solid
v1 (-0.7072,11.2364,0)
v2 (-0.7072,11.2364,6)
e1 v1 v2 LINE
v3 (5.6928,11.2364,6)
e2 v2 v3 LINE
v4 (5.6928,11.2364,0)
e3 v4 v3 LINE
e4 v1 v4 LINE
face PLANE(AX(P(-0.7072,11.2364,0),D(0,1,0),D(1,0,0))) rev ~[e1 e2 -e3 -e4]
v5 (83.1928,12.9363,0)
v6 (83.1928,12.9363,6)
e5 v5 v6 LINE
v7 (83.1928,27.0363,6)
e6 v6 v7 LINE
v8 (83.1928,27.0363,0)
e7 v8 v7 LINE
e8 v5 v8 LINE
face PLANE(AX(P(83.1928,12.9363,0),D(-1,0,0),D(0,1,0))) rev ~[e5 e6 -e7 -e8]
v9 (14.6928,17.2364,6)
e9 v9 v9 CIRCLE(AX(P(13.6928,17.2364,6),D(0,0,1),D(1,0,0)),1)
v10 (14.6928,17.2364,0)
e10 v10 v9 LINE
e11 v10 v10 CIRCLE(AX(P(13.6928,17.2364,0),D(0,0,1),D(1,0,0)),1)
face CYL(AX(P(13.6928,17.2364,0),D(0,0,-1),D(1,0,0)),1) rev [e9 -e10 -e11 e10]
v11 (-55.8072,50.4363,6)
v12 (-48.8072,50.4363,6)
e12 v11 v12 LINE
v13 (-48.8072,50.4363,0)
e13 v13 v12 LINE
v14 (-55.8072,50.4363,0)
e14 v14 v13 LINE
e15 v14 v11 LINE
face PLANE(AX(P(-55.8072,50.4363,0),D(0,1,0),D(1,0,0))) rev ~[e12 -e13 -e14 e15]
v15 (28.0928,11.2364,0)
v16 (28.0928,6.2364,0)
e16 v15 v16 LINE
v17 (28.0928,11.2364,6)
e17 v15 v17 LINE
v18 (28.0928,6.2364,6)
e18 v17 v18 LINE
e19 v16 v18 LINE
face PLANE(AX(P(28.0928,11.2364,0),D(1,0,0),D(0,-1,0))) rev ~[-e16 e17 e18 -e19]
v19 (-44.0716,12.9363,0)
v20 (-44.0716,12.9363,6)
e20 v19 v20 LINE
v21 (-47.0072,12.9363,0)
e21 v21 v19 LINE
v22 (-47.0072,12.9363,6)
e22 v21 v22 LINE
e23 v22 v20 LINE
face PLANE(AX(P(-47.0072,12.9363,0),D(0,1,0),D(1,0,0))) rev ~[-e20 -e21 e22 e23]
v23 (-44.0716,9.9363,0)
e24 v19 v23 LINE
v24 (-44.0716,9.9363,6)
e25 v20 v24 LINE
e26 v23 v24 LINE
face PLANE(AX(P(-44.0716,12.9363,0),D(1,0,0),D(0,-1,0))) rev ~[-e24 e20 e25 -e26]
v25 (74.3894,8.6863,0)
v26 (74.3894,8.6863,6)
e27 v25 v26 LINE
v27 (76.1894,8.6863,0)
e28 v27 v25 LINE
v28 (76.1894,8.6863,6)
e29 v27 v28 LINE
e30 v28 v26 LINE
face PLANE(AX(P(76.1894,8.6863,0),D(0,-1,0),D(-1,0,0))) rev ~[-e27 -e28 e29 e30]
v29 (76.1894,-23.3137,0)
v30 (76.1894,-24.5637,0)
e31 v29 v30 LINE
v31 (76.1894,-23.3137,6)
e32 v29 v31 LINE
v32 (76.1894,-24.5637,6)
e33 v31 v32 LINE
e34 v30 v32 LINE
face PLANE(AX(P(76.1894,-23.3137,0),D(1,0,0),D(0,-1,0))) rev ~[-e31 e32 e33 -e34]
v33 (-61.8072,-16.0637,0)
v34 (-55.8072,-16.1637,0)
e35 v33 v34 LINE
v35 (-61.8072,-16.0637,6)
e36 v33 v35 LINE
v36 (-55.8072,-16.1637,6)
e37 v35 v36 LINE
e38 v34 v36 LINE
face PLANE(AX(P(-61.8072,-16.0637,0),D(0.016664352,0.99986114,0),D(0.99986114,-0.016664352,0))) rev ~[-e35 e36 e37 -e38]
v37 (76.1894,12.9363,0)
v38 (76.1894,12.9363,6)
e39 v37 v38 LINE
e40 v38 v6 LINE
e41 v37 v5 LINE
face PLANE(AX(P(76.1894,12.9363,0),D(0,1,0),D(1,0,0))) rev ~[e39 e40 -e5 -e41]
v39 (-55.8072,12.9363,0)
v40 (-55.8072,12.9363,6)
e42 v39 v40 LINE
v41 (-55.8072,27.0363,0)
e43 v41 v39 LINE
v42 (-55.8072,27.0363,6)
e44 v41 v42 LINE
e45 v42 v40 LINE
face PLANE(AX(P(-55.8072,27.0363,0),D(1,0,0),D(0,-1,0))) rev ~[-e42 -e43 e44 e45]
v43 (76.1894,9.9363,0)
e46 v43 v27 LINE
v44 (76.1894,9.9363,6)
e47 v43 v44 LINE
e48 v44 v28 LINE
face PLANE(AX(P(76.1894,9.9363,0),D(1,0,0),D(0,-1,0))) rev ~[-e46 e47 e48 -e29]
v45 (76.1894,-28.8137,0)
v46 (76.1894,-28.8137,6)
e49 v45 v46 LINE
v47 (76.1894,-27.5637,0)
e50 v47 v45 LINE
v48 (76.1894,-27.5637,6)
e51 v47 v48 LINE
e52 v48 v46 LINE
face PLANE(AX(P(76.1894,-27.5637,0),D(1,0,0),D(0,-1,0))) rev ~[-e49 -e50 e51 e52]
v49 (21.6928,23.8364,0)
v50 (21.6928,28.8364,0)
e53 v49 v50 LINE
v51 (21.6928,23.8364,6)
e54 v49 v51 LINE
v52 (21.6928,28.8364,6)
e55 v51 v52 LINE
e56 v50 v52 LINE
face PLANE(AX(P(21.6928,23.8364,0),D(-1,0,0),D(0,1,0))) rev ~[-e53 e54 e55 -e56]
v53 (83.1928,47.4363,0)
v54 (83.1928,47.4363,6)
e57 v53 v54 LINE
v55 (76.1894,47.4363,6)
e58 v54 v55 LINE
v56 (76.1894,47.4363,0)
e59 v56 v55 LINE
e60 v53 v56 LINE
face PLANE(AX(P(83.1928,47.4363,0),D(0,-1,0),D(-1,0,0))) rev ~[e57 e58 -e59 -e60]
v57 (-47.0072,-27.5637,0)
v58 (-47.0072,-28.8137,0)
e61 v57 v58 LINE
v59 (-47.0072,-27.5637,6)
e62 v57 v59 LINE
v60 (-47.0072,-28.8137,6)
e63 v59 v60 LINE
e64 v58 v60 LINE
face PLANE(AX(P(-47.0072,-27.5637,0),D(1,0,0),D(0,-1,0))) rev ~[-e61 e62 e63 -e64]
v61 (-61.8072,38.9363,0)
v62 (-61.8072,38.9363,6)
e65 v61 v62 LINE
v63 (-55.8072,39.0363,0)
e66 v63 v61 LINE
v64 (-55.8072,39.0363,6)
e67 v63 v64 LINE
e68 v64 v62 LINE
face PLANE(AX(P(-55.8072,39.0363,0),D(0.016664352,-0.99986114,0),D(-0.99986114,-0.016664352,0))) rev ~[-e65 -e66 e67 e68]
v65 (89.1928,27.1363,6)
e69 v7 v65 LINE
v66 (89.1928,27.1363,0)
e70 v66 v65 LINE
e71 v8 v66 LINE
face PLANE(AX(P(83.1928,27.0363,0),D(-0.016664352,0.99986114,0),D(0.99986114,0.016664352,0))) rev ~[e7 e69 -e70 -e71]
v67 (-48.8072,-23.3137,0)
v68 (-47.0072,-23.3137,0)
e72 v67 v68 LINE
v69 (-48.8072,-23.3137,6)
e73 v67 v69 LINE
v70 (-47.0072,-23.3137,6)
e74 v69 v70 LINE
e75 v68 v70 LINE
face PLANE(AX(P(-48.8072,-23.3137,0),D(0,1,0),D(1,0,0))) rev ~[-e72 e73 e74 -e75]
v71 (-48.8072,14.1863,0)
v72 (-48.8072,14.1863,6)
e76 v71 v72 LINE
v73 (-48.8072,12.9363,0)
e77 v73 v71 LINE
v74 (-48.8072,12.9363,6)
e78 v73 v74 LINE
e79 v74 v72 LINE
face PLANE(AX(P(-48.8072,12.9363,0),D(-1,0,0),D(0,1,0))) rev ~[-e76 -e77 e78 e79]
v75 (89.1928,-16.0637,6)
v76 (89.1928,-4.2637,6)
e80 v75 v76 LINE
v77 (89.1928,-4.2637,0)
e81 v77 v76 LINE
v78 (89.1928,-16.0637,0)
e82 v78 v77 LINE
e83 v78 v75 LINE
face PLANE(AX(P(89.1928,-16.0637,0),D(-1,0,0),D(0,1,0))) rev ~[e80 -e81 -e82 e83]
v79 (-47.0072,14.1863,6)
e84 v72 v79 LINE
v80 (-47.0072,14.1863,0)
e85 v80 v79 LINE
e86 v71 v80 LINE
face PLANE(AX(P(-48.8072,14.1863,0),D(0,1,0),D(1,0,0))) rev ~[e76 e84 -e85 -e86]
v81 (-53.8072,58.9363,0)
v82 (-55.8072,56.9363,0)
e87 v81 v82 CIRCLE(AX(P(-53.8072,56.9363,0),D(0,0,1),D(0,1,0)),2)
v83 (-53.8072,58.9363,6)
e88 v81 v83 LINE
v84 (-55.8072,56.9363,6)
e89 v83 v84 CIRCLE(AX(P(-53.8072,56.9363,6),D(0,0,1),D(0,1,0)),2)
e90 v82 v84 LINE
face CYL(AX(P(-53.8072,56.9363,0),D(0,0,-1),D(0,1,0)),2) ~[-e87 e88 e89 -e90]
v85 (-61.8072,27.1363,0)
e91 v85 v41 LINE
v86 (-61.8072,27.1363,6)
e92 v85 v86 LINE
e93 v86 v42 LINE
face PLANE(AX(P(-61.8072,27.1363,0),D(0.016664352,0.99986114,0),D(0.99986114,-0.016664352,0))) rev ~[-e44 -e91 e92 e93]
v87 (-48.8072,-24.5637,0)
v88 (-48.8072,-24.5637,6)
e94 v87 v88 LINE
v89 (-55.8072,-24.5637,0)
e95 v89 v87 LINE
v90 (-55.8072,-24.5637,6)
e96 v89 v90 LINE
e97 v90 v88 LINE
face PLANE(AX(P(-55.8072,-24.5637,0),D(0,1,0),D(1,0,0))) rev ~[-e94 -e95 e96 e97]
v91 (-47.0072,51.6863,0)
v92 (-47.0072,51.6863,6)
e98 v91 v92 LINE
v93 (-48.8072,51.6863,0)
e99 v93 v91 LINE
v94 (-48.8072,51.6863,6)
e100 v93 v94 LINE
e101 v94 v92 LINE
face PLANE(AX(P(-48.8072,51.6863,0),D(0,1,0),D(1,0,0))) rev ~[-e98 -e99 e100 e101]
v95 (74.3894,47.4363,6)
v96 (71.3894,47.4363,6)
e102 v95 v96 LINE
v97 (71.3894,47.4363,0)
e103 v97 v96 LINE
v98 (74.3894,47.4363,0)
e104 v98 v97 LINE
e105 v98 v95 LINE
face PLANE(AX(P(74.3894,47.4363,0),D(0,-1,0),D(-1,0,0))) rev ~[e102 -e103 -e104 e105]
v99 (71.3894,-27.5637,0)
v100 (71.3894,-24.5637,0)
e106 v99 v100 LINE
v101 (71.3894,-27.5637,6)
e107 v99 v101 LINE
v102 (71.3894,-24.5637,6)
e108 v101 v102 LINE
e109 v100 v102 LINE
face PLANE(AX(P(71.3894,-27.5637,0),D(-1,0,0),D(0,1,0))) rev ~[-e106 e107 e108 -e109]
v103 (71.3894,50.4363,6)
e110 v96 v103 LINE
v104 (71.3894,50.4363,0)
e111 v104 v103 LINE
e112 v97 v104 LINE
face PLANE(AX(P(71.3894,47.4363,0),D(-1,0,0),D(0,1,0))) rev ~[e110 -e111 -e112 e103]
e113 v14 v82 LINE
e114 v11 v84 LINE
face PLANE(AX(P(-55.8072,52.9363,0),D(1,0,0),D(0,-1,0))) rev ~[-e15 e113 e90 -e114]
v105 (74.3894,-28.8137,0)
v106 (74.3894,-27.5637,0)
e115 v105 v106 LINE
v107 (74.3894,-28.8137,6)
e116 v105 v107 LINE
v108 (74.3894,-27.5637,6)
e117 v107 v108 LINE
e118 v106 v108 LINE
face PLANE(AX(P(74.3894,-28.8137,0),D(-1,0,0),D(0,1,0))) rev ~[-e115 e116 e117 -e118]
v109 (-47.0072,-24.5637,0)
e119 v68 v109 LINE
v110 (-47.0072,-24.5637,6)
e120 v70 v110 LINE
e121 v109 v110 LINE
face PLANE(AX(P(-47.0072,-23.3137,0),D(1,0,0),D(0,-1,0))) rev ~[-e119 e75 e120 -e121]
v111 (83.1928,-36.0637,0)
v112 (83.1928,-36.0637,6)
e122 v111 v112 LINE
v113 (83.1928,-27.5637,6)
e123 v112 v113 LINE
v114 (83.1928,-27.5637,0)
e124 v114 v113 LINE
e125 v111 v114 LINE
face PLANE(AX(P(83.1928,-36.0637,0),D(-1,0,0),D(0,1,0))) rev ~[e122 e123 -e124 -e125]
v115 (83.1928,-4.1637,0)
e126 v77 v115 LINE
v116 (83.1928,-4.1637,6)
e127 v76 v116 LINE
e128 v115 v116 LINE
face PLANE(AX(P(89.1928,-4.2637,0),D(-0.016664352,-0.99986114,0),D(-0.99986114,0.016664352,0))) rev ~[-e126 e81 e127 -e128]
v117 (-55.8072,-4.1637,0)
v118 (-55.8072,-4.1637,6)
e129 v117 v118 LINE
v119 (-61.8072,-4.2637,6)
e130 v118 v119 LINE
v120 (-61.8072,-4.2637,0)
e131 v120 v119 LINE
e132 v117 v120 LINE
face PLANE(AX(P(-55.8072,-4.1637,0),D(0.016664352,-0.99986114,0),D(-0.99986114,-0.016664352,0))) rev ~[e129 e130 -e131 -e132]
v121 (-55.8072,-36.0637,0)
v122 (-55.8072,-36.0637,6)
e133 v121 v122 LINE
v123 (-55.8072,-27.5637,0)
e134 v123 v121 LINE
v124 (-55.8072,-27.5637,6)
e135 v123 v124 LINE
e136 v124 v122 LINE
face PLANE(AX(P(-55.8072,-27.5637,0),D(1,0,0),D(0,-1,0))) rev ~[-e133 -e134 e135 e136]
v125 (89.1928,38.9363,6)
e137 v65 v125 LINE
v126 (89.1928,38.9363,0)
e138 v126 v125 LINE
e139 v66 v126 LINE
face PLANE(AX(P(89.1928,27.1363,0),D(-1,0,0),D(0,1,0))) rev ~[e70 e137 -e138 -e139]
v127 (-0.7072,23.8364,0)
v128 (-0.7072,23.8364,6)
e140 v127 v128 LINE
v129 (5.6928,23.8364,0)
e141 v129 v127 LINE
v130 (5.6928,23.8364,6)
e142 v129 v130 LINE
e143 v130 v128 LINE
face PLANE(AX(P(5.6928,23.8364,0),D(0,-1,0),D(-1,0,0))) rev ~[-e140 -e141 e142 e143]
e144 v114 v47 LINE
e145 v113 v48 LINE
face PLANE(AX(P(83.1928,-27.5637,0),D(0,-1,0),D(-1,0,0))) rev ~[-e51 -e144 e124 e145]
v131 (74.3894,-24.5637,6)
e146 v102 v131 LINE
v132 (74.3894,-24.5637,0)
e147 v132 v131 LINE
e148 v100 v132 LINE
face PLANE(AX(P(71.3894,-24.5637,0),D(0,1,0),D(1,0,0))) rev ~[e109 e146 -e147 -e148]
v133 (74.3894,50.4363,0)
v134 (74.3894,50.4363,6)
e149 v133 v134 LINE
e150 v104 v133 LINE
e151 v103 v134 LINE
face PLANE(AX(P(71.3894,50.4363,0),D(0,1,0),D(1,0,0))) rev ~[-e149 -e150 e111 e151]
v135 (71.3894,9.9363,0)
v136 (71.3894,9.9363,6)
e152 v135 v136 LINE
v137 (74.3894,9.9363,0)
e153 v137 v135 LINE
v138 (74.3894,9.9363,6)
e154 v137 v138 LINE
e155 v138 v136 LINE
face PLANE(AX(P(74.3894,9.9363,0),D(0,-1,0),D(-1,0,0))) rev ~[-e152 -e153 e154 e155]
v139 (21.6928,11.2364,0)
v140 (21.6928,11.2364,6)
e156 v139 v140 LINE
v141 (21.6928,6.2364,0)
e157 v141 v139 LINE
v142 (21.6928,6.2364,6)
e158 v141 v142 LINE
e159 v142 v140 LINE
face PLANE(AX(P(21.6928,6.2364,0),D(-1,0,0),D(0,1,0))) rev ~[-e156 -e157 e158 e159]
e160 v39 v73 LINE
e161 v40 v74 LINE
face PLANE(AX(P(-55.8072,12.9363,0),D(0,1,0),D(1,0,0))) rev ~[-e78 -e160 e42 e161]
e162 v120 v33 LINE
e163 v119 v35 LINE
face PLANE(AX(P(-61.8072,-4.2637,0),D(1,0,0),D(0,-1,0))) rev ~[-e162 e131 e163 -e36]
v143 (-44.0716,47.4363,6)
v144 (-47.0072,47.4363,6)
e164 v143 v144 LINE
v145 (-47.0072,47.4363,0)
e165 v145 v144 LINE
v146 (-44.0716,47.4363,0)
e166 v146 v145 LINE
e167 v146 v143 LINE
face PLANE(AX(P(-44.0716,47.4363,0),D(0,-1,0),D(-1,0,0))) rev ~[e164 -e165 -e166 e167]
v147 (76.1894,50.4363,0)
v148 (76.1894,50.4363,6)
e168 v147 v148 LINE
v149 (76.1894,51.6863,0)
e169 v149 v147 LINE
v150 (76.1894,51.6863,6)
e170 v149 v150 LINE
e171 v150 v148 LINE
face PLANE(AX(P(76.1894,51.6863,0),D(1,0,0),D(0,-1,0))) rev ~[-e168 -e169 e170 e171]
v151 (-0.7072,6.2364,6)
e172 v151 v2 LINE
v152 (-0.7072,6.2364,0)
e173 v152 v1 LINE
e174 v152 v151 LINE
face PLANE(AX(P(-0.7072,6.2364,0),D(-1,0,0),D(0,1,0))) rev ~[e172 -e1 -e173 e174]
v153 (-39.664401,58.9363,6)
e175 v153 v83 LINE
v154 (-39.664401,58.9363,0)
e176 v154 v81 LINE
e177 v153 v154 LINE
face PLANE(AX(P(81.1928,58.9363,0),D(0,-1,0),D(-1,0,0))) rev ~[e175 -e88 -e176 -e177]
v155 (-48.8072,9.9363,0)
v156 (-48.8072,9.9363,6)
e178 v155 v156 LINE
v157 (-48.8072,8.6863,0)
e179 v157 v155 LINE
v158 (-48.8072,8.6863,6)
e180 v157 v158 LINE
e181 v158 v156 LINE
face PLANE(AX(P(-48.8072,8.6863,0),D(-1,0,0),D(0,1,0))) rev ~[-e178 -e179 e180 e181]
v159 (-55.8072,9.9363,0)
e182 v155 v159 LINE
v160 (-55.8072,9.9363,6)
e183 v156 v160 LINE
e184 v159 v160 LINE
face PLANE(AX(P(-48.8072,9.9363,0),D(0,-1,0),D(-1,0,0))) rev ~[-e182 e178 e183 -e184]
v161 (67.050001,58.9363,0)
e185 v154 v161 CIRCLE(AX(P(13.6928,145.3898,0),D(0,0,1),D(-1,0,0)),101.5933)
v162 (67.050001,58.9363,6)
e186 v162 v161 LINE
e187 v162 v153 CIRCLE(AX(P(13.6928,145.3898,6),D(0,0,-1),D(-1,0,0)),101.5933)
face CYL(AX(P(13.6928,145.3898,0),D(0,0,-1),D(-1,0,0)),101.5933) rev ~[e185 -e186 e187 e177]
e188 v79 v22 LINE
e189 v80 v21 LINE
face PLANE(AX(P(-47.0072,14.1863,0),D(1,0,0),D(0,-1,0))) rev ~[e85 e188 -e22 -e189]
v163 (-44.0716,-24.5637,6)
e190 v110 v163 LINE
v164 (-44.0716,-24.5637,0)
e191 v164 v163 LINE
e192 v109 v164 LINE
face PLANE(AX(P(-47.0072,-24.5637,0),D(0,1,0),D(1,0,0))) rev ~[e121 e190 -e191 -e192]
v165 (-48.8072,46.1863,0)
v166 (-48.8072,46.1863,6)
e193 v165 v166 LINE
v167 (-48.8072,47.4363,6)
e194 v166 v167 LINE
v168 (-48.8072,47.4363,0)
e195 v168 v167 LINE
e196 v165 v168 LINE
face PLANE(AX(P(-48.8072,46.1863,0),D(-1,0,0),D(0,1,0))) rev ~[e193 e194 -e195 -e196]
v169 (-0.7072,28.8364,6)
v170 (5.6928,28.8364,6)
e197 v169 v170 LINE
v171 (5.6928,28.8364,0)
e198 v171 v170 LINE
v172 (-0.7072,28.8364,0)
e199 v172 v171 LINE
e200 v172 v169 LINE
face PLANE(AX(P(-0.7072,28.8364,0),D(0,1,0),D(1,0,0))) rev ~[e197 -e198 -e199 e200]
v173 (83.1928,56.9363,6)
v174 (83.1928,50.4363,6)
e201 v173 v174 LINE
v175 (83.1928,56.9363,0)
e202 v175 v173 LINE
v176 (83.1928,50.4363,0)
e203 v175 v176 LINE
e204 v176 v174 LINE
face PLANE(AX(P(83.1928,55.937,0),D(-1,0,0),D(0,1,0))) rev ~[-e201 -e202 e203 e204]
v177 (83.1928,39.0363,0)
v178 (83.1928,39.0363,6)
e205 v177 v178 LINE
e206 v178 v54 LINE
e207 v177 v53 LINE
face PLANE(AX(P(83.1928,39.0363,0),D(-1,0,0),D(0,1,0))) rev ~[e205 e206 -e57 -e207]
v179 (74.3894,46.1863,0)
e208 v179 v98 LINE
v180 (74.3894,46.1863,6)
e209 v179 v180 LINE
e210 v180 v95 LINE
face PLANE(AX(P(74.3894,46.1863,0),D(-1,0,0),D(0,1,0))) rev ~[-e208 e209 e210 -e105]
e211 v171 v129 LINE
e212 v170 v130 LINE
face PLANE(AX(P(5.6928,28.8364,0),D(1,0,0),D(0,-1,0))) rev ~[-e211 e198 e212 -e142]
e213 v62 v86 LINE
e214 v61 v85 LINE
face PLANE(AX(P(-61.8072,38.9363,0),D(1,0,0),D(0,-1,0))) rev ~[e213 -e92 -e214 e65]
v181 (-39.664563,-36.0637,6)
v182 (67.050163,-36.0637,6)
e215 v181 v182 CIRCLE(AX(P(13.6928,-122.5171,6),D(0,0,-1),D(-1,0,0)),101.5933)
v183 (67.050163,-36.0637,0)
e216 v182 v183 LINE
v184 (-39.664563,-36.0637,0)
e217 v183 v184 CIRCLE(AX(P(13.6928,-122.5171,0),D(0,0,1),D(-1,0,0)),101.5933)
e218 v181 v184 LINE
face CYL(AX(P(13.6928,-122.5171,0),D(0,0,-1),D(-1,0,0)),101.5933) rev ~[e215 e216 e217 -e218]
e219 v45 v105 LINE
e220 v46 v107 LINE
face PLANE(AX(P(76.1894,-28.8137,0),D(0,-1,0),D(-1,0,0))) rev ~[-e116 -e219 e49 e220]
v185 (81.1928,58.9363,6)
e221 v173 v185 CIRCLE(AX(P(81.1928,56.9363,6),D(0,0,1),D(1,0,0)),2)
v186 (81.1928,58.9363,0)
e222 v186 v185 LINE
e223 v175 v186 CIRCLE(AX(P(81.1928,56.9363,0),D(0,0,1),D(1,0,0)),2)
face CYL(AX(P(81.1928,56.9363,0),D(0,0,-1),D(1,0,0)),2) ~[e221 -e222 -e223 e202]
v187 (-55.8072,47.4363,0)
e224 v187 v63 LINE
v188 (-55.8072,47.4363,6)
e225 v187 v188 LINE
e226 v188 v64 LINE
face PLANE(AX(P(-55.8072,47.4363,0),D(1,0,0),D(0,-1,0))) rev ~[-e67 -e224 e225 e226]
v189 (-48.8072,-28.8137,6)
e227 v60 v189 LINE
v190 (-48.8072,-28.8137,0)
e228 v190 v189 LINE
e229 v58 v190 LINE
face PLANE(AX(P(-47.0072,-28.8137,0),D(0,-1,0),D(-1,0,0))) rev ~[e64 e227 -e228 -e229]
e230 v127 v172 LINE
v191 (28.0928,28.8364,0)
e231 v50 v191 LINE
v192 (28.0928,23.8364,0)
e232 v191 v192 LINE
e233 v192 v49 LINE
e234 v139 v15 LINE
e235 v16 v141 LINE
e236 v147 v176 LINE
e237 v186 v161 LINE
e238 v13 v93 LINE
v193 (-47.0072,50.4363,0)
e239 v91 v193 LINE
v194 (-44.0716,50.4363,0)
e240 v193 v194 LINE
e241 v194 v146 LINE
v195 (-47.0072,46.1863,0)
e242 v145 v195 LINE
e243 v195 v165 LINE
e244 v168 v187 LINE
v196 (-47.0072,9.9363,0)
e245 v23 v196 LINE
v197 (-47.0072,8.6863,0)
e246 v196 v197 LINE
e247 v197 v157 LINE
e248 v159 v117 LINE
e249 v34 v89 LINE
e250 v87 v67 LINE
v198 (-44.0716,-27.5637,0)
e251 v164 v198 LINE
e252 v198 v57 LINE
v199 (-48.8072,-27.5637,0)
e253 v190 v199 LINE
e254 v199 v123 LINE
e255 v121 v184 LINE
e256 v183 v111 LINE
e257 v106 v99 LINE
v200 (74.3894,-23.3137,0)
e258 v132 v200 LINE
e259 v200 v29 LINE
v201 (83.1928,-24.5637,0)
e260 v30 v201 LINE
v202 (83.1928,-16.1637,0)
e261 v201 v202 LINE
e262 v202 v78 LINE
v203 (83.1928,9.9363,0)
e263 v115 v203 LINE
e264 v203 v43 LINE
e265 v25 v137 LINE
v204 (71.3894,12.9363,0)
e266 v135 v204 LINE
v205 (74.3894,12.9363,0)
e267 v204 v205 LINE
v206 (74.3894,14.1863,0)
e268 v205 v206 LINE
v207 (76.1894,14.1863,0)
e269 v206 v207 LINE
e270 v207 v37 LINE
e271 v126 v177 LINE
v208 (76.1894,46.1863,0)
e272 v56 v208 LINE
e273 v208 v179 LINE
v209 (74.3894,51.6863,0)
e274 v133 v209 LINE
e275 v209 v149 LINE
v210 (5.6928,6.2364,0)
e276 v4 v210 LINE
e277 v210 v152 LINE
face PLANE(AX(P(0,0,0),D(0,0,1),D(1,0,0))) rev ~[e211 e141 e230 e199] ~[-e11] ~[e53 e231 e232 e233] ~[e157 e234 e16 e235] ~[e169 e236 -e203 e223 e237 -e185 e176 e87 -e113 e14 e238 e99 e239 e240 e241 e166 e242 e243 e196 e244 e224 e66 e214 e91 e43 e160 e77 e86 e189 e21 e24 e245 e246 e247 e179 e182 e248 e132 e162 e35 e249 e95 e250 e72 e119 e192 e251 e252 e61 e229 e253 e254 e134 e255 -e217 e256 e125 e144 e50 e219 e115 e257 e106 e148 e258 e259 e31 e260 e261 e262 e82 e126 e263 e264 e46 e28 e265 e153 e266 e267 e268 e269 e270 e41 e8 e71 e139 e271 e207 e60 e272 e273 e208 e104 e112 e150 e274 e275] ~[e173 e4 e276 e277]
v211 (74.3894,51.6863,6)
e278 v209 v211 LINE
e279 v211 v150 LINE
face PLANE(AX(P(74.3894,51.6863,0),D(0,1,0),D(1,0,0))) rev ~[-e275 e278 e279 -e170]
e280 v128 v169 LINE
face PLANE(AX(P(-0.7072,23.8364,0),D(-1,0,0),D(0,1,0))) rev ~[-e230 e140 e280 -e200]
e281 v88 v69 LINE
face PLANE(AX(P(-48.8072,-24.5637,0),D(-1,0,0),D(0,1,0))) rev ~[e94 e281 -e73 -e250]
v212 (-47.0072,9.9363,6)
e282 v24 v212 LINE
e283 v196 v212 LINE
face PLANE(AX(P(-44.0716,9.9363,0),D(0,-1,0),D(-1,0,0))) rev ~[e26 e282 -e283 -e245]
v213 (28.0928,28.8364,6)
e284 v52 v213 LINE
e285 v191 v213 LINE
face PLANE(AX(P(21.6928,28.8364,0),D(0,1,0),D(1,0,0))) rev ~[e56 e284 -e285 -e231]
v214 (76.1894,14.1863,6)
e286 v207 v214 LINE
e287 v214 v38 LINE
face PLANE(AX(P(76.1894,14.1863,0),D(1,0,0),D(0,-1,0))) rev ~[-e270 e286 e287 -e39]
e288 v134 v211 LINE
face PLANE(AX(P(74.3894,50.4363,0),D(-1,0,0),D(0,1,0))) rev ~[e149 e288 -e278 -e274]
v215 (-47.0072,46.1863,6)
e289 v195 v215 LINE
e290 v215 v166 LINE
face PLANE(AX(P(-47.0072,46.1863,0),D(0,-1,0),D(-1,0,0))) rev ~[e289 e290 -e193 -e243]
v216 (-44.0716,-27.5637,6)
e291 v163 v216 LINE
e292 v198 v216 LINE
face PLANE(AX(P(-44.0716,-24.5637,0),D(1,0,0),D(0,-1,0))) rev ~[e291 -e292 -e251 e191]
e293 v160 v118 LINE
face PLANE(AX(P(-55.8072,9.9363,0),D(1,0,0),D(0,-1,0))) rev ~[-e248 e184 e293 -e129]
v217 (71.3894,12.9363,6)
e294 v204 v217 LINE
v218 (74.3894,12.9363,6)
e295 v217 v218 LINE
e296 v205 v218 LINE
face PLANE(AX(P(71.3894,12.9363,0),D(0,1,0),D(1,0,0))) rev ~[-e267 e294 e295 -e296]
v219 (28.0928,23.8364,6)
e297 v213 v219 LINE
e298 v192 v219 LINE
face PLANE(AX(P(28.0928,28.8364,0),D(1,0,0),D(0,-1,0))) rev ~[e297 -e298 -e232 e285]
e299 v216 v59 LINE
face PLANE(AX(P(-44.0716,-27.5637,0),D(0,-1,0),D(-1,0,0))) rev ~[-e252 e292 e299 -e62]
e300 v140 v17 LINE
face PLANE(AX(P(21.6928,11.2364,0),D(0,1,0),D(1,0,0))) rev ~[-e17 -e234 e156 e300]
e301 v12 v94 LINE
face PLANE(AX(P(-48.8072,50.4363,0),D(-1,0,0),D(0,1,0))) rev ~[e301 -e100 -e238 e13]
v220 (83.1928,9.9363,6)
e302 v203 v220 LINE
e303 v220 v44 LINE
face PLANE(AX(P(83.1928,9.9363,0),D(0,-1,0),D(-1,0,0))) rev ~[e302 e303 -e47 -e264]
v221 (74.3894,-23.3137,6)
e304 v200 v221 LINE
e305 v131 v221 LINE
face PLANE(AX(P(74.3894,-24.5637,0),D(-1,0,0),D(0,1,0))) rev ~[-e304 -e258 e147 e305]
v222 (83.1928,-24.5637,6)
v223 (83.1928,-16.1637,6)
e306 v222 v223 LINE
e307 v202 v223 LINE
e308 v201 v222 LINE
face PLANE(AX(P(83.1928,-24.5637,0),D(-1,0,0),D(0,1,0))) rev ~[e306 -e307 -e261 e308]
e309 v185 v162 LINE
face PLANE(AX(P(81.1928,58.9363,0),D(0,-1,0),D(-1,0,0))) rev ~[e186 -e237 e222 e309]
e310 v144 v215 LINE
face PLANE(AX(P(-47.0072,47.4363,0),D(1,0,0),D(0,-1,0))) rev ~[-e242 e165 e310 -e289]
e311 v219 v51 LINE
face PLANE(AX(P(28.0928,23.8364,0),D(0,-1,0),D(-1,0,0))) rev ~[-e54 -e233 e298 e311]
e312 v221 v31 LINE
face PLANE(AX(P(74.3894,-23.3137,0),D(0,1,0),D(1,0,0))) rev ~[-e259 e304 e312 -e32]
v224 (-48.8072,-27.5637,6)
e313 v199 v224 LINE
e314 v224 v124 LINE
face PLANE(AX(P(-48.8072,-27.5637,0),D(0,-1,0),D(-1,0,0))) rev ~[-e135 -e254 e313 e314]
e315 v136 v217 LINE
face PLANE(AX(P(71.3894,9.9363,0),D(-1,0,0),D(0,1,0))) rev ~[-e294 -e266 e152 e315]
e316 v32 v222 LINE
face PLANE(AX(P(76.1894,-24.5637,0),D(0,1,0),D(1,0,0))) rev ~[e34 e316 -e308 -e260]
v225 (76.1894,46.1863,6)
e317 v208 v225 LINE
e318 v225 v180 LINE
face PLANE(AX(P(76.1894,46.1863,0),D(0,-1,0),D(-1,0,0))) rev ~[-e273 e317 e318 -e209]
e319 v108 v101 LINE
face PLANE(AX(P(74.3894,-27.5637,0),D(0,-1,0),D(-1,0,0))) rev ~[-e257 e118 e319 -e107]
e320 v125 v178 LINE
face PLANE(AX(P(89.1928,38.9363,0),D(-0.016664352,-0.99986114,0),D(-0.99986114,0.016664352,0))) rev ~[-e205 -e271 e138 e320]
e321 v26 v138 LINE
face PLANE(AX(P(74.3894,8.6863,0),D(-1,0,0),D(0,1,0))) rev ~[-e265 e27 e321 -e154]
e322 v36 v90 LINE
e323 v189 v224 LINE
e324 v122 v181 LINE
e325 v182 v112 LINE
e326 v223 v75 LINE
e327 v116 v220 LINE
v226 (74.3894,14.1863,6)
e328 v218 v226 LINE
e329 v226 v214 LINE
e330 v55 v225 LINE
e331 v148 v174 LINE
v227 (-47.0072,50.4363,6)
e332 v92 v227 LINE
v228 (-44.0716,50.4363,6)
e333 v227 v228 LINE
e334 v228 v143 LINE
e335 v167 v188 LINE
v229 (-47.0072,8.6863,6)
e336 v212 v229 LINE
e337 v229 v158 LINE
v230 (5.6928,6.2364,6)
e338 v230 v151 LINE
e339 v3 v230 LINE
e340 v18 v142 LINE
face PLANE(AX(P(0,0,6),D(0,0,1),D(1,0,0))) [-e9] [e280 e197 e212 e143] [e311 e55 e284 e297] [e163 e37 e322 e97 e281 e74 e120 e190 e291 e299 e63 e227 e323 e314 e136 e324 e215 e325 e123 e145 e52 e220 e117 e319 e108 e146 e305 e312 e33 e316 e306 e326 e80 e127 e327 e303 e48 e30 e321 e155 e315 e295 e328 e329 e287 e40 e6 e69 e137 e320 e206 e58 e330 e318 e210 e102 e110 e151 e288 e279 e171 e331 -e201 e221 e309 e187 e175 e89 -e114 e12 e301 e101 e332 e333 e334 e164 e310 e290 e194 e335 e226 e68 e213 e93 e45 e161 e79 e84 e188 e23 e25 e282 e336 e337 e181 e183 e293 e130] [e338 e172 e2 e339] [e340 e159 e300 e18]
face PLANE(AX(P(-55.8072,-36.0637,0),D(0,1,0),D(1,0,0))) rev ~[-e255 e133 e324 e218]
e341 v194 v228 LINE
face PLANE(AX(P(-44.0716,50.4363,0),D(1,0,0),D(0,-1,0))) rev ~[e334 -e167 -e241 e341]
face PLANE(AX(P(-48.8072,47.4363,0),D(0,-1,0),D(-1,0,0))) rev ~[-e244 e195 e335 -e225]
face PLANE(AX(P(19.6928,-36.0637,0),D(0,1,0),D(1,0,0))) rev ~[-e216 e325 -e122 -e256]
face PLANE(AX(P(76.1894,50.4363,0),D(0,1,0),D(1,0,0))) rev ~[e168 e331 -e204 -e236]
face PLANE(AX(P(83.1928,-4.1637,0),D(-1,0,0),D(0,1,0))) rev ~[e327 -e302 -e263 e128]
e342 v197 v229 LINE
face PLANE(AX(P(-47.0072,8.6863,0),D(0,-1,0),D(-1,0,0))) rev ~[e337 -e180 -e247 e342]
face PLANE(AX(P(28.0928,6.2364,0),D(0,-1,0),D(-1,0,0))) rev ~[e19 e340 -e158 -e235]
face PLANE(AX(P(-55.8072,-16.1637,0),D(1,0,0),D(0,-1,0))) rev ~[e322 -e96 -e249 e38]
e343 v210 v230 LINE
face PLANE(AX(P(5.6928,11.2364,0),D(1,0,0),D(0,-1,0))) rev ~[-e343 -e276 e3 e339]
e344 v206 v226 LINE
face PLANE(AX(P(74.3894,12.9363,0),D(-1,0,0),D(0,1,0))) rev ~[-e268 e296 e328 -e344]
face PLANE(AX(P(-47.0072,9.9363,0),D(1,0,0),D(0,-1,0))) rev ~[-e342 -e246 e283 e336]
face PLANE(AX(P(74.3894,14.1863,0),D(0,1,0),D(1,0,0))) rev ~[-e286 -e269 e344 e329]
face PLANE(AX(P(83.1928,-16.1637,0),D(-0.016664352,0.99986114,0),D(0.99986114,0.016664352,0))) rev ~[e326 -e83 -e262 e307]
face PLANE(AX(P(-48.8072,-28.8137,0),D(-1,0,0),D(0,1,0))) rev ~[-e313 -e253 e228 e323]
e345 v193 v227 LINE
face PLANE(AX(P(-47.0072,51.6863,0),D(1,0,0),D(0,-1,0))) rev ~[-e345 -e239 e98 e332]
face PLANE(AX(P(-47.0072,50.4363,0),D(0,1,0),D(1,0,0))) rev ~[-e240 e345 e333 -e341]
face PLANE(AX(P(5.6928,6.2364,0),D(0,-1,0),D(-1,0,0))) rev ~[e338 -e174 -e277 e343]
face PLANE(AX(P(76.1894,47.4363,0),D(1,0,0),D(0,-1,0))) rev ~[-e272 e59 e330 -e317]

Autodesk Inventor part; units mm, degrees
ref_plane "YZ Plane" through (0, 0, 0) normal (1, 0, 0) x (0, 1, 0)
ref_plane "XZ Plane" through (0, 0, 0) normal (0, 1, 0) x (-1, 0, 0)
ref_plane "XY Plane" through (0, 0, 0) normal (0, 0, 1) x (1, 0, 0)
sketch "Sketch1" plane through (0, 0, 0) normal (0, 0, 1) x (1, 0, 0)
  line L0 (19.6928, -26.0637) -> (19.6928, -36.0637)
  line L1 (19.6928, -36.0637) -> (83.1928, -36.0637)
  line L2 (83.1928, -36.0637) -> (83.1928, -27.5637)
  line L3 (83.1928, -27.5637) -> (76.1894, -27.5637)
  line L4 (76.1894, -27.5637) -> (76.1894, -28.8137)
  line L5 (76.1894, -28.8137) -> (74.3894, -28.8137)
  line L6 (74.3894, -28.8137) -> (74.3894, -27.5637)
  line L7 (74.3894, -27.5637) -> (71.3894, -27.5637)
  line L8 (71.3894, -27.5637) -> (71.3894, -24.5637)
  line L9 (71.3894, -24.5637) -> (74.3894, -24.5637)
  line L10 (74.3894, -24.5637) -> (74.3894, -23.3137)
  line L11 (74.3894, -23.3137) -> (76.1894, -23.3137)
  line L12 (76.1894, -23.3137) -> (76.1894, -24.5637)
  line L13 (76.1894, -24.5637) -> (83.1928, -24.5637)
  line L14 (83.1928, -24.5637) -> (83.1928, -16.1637)
  line L15 (83.1928, -16.1637) -> (89.1928, -16.0637)
  line L16 (89.1928, -16.0637) -> (89.1928, -4.2637)
  line L17 (89.1928, -4.2637) -> (83.1928, -4.1637)
  line L18 (83.1928, -4.1637) -> (83.1928, 9.9363)
  line L19 (83.1928, 9.9363) -> (76.1894, 9.9363)
  line L20 (76.1894, 9.9363) -> (76.1894, 8.6863)
  line L21 (76.1894, 8.6863) -> (74.3894, 8.6863)
  line L22 (74.3894, 8.6863) -> (74.3894, 9.9363)
  line L23 (74.3894, 9.9363) -> (71.3894, 9.9363)
  line L24 (71.3894, 9.9363) -> (71.3894, 12.9363)
  line L25 (71.3894, 12.9363) -> (74.3894, 12.9363)
  line L26 (74.3894, 12.9363) -> (74.3894, 14.1863)
  line L27 (74.3894, 14.1863) -> (76.1894, 14.1863)
  line L28 (76.1894, 14.1863) -> (76.1894, 12.9363)
  line L29 (76.1894, 12.9363) -> (83.1928, 12.9363)
  line L30 (83.1928, 12.9363) -> (83.1928, 27.0363)
  line L31 (83.1928, 27.0363) -> (89.1928, 27.1363)
  line L32 (89.1928, 27.1363) -> (89.1928, 38.9363)
  line L33 (89.1928, 38.9363) -> (83.1928, 39.0363)
  line L34 (83.1928, 39.0363) -> (83.1928, 47.4363)
  line L35 (83.1928, 47.4363) -> (76.1894, 47.4363)
  line L36 (76.1894, 47.4363) -> (76.1894, 46.1863)
  line L37 (76.1894, 46.1863) -> (74.3894, 46.1863)
  line L38 (74.3894, 46.1863) -> (74.3894, 47.4363)
  line L39 (74.3894, 47.4363) -> (71.3894, 47.4363)
  line L40 (71.3894, 47.4363) -> (71.3894, 50.4363)
  line L41 (71.3894, 50.4363) -> (74.3894, 50.4363)
  line L42 (74.3894, 50.4363) -> (74.3894, 51.6863)
  line L43 (74.3894, 51.6863) -> (76.1894, 51.6863)
  line L44 (76.1894, 51.6863) -> (76.1894, 50.4363)
  line L45 (76.1894, 50.4363) -> (83.1928, 50.4363)
  line L46 (83.1928, 50.4363) -> (83.1928, 52.9373)
  line L47 (83.1928, 55.937) -> (83.1928, 56.9363)
  arc A0 (83.1928, 56.9363) -> (81.1928, 58.9363) centre (81.1928, 56.9363) ccw
  line L48 (81.1928, 58.9363) -> (-53.8072, 58.9363)
  arc A1 (-53.8072, 58.9363) -> (-55.8072, 56.9363) centre (-53.8072, 56.9363) ccw
  line L49 (-55.8072, 56.9363) -> (-55.8072, 55.9363)
  line L50 (-55.8072, 52.9363) -> (-55.8072, 50.4363)
  line L51 (-55.8072, 50.4363) -> (-48.8072, 50.4363)
  line L52 (-48.8072, 50.4363) -> (-48.8072, 51.6863)
  line L53 (-48.8072, 51.6863) -> (-47.0072, 51.6863)
  line L54 (-47.0072, 51.6863) -> (-47.0072, 50.4363)
  line L55 (-47.0072, 50.4363) -> (-44.0716, 50.4363)
  line L56 (-44.0716, 50.4363) -> (-44.0716, 47.4363)
  line L57 (-44.0716, 47.4363) -> (-47.0072, 47.4363)
  line L58 (-47.0072, 47.4363) -> (-47.0072, 46.1863)
  line L59 (-47.0072, 46.1863) -> (-48.8072, 46.1863)
  line L60 (-48.8072, 46.1863) -> (-48.8072, 47.4363)
  line L61 (-48.8072, 47.4363) -> (-55.8072, 47.4363)
  line L62 (-55.8072, 47.4363) -> (-55.8072, 39.0363)
  line L63 (-55.8072, 39.0363) -> (-61.8072, 38.9363)
  line L64 (-61.8072, 38.9363) -> (-61.8072, 27.1363)
  line L65 (-61.8072, 27.1363) -> (-55.8072, 27.0363)
  line L66 (-55.8072, 27.0363) -> (-55.8072, 12.9363)
  line L67 (-55.8072, 12.9363) -> (-48.8072, 12.9363)
  line L68 (-48.8072, 12.9363) -> (-48.8072, 14.1863)
  line L69 (-48.8072, 14.1863) -> (-47.0072, 14.1863)
  line L70 (-47.0072, 14.1863) -> (-47.0072, 12.9363)
  line L71 (-47.0072, 12.9363) -> (-44.0716, 12.9363)
  line L72 (-44.0716, 12.9363) -> (-44.0716, 9.9363)
  line L73 (-44.0716, 9.9363) -> (-47.0072, 9.9363)
  line L74 (-47.0072, 9.9363) -> (-47.0072, 8.6863)
  line L75 (-47.0072, 8.6863) -> (-48.8072, 8.6863)
  line L76 (-48.8072, 8.6863) -> (-48.8072, 9.9363)
  line L77 (-48.8072, 9.9363) -> (-55.8072, 9.9363)
  line L78 (-55.8072, 9.9363) -> (-55.8072, -4.1637)
  line L79 (-55.8072, -4.1637) -> (-61.8072, -4.2637)
  line L80 (-61.8072, -4.2637) -> (-61.8072, -16.0637)
  line L81 (-61.8072, -16.0637) -> (-55.8072, -16.1637)
  line L82 (-55.8072, -16.1637) -> (-55.8072, -24.5637)
  line L83 (-55.8072, -24.5637) -> (-48.8072, -24.5637)
  line L84 (-48.8072, -24.5637) -> (-48.8072, -23.3137)
  line L85 (-48.8072, -23.3137) -> (-47.0072, -23.3137)
  line L86 (-47.0072, -23.3137) -> (-47.0072, -24.5637)
  line L87 (-47.0072, -24.5637) -> (-44.0716, -24.5637)
  line L88 (-44.0716, -24.5637) -> (-44.0716, -27.5637)
  line L89 (-44.0716, -27.5637) -> (-47.0072, -27.5637)
  line L90 (-47.0072, -27.5637) -> (-47.0072, -28.8137)
  line L91 (-47.0072, -28.8137) -> (-48.8072, -28.8137)
  line L92 (-48.8072, -28.8137) -> (-48.8072, -27.5637)
  line L93 (-48.8072, -27.5637) -> (-55.8072, -27.5637)
  line L94 (-55.8072, -27.5637) -> (-55.8072, -36.0637)
  line L95 (-55.8072, -36.0637) -> (7.6928, -36.0637)
  line L96 (7.6928, -36.0637) -> (7.6928, -26.0637)
  line L97 (7.6928, -26.0637) -> (19.6928, -26.0637)
  line L98 (5.6928, 6.2364) -> (-0.7072, 6.2364)
  line L99 (-0.7072, 6.2364) -> (-0.7072, 11.2364)
  line L100 (-0.7072, 11.2364) -> (5.6928, 11.2364)
  line L101 (5.6928, 11.2364) -> (5.6928, 6.2364)
  line L102 (28.0928, 6.2364) -> (21.6928, 6.2364)
  line L103 (21.6928, 6.2364) -> (21.6928, 11.2364)
  line L104 (21.6928, 11.2364) -> (28.0928, 11.2364)
  line L105 (28.0928, 11.2364) -> (28.0928, 6.2364)
  line L106 (28.0928, 23.8364) -> (21.6928, 23.8364)
  line L107 (21.6928, 23.8364) -> (21.6928, 28.8364)
  line L108 (21.6928, 28.8364) -> (28.0928, 28.8364)
  line L109 (28.0928, 28.8364) -> (28.0928, 23.8364)
  line L110 (5.6928, 28.8364) -> (5.6928, 23.8364)
  line L111 (5.6928, 23.8364) -> (-0.7072, 23.8364)
  line L112 (-0.7072, 23.8364) -> (-0.7072, 28.8364)
  line L113 (-0.7072, 28.8364) -> (5.6928, 28.8364)
  line L114 (-55.8072, 52.9363) -> (-55.8072, 55.9363)
  line L115 (83.1928, 52.9373) -> (83.1928, 55.937)
  circle A2 centre (13.6928, 17.2364) radius 1
  point P0 (0, 0)
  dimension "d0" = 58.9363
  dimension "d1" = 139
  dimension "d2" = 95
  dimension "d3" = 55.8072
  dimension "d4" = 6
  dimension "d5" = 2
  dimension "d6" = 12
  dimension "d7" = 12
  dimension "d8" = 11.7356
  dimension "d9" = 2.9356
  dimension "d10" = 1.8
  dimension "d11" = 3
  dimension "d12" = 1.25
  dimension "d13" = 1.25
  dimension "d14" = 8.5
  dimension "d15" = 3
  dimension "d16" = 1.25
  dimension "d17" = 1.25
  dimension "d18" = 8.5
  dimension "d19" = 19.9
  dimension "d20" = 0.1
  dimension "d21" = 11.8
  dimension "d22" = 46
  dimension "d23" = 3
  dimension "d24" = 1.25
  dimension "d25" = 1.25
  dimension "d26" = 19.9
  dimension "d27" = 6.4
  dimension "d28" = 5
  dimension "d29" = 6.4
  dimension "d30" = 5
  dimension "d31" = 12.6
  dimension "d32" = 16
  dimension "d33" = 30.1
  dimension "d34" = 55.1
  dimension "d35" = 11.8033
  dimension "d36" = 3
  dimension "d37" = 1.8
  dimension "d38" = 6
  dimension "d39" = 12
  dimension "d40" = 10
  dimension "d41" = 63.5
  dimension "d43" = 2
  dimension "d44" = 8
  dimension "d45" = 6.6
extrude "Extrusion1" add sketch "Sketch1" along normal blind 6
sketch "Sketch2" plane through (0, 0, 0) normal (0, 0, -1) x (-1, 0, 0)
  circle A0 centre (-13.6928, 17.2364) radius 1 projected
  circle A1 centre (-13.6928, -122.5171) radius 101.5933
  line L0 (-7.6928, -36.0637) -> (55.8072, -36.0637) projected
  line L1 (107.5733, 11.4363) -> (218.4017, 11.4363) construction
  circle A2 centre (-13.6928, 145.3898) radius 101.5933
  line L2 (53.8072, 58.9363) -> (-81.1928, 58.9363) projected
  point P0 (0, 0)
  dimension "d50" = 47.5
  dimension "d51" = 203.1866
  dimension "d52" = 86.4535
extrude "Extrusion2" cut sketch "Sketch2" against normal blind 10 contours A1 | A2 L2 | L2 A2
properties part number "czesc6"
